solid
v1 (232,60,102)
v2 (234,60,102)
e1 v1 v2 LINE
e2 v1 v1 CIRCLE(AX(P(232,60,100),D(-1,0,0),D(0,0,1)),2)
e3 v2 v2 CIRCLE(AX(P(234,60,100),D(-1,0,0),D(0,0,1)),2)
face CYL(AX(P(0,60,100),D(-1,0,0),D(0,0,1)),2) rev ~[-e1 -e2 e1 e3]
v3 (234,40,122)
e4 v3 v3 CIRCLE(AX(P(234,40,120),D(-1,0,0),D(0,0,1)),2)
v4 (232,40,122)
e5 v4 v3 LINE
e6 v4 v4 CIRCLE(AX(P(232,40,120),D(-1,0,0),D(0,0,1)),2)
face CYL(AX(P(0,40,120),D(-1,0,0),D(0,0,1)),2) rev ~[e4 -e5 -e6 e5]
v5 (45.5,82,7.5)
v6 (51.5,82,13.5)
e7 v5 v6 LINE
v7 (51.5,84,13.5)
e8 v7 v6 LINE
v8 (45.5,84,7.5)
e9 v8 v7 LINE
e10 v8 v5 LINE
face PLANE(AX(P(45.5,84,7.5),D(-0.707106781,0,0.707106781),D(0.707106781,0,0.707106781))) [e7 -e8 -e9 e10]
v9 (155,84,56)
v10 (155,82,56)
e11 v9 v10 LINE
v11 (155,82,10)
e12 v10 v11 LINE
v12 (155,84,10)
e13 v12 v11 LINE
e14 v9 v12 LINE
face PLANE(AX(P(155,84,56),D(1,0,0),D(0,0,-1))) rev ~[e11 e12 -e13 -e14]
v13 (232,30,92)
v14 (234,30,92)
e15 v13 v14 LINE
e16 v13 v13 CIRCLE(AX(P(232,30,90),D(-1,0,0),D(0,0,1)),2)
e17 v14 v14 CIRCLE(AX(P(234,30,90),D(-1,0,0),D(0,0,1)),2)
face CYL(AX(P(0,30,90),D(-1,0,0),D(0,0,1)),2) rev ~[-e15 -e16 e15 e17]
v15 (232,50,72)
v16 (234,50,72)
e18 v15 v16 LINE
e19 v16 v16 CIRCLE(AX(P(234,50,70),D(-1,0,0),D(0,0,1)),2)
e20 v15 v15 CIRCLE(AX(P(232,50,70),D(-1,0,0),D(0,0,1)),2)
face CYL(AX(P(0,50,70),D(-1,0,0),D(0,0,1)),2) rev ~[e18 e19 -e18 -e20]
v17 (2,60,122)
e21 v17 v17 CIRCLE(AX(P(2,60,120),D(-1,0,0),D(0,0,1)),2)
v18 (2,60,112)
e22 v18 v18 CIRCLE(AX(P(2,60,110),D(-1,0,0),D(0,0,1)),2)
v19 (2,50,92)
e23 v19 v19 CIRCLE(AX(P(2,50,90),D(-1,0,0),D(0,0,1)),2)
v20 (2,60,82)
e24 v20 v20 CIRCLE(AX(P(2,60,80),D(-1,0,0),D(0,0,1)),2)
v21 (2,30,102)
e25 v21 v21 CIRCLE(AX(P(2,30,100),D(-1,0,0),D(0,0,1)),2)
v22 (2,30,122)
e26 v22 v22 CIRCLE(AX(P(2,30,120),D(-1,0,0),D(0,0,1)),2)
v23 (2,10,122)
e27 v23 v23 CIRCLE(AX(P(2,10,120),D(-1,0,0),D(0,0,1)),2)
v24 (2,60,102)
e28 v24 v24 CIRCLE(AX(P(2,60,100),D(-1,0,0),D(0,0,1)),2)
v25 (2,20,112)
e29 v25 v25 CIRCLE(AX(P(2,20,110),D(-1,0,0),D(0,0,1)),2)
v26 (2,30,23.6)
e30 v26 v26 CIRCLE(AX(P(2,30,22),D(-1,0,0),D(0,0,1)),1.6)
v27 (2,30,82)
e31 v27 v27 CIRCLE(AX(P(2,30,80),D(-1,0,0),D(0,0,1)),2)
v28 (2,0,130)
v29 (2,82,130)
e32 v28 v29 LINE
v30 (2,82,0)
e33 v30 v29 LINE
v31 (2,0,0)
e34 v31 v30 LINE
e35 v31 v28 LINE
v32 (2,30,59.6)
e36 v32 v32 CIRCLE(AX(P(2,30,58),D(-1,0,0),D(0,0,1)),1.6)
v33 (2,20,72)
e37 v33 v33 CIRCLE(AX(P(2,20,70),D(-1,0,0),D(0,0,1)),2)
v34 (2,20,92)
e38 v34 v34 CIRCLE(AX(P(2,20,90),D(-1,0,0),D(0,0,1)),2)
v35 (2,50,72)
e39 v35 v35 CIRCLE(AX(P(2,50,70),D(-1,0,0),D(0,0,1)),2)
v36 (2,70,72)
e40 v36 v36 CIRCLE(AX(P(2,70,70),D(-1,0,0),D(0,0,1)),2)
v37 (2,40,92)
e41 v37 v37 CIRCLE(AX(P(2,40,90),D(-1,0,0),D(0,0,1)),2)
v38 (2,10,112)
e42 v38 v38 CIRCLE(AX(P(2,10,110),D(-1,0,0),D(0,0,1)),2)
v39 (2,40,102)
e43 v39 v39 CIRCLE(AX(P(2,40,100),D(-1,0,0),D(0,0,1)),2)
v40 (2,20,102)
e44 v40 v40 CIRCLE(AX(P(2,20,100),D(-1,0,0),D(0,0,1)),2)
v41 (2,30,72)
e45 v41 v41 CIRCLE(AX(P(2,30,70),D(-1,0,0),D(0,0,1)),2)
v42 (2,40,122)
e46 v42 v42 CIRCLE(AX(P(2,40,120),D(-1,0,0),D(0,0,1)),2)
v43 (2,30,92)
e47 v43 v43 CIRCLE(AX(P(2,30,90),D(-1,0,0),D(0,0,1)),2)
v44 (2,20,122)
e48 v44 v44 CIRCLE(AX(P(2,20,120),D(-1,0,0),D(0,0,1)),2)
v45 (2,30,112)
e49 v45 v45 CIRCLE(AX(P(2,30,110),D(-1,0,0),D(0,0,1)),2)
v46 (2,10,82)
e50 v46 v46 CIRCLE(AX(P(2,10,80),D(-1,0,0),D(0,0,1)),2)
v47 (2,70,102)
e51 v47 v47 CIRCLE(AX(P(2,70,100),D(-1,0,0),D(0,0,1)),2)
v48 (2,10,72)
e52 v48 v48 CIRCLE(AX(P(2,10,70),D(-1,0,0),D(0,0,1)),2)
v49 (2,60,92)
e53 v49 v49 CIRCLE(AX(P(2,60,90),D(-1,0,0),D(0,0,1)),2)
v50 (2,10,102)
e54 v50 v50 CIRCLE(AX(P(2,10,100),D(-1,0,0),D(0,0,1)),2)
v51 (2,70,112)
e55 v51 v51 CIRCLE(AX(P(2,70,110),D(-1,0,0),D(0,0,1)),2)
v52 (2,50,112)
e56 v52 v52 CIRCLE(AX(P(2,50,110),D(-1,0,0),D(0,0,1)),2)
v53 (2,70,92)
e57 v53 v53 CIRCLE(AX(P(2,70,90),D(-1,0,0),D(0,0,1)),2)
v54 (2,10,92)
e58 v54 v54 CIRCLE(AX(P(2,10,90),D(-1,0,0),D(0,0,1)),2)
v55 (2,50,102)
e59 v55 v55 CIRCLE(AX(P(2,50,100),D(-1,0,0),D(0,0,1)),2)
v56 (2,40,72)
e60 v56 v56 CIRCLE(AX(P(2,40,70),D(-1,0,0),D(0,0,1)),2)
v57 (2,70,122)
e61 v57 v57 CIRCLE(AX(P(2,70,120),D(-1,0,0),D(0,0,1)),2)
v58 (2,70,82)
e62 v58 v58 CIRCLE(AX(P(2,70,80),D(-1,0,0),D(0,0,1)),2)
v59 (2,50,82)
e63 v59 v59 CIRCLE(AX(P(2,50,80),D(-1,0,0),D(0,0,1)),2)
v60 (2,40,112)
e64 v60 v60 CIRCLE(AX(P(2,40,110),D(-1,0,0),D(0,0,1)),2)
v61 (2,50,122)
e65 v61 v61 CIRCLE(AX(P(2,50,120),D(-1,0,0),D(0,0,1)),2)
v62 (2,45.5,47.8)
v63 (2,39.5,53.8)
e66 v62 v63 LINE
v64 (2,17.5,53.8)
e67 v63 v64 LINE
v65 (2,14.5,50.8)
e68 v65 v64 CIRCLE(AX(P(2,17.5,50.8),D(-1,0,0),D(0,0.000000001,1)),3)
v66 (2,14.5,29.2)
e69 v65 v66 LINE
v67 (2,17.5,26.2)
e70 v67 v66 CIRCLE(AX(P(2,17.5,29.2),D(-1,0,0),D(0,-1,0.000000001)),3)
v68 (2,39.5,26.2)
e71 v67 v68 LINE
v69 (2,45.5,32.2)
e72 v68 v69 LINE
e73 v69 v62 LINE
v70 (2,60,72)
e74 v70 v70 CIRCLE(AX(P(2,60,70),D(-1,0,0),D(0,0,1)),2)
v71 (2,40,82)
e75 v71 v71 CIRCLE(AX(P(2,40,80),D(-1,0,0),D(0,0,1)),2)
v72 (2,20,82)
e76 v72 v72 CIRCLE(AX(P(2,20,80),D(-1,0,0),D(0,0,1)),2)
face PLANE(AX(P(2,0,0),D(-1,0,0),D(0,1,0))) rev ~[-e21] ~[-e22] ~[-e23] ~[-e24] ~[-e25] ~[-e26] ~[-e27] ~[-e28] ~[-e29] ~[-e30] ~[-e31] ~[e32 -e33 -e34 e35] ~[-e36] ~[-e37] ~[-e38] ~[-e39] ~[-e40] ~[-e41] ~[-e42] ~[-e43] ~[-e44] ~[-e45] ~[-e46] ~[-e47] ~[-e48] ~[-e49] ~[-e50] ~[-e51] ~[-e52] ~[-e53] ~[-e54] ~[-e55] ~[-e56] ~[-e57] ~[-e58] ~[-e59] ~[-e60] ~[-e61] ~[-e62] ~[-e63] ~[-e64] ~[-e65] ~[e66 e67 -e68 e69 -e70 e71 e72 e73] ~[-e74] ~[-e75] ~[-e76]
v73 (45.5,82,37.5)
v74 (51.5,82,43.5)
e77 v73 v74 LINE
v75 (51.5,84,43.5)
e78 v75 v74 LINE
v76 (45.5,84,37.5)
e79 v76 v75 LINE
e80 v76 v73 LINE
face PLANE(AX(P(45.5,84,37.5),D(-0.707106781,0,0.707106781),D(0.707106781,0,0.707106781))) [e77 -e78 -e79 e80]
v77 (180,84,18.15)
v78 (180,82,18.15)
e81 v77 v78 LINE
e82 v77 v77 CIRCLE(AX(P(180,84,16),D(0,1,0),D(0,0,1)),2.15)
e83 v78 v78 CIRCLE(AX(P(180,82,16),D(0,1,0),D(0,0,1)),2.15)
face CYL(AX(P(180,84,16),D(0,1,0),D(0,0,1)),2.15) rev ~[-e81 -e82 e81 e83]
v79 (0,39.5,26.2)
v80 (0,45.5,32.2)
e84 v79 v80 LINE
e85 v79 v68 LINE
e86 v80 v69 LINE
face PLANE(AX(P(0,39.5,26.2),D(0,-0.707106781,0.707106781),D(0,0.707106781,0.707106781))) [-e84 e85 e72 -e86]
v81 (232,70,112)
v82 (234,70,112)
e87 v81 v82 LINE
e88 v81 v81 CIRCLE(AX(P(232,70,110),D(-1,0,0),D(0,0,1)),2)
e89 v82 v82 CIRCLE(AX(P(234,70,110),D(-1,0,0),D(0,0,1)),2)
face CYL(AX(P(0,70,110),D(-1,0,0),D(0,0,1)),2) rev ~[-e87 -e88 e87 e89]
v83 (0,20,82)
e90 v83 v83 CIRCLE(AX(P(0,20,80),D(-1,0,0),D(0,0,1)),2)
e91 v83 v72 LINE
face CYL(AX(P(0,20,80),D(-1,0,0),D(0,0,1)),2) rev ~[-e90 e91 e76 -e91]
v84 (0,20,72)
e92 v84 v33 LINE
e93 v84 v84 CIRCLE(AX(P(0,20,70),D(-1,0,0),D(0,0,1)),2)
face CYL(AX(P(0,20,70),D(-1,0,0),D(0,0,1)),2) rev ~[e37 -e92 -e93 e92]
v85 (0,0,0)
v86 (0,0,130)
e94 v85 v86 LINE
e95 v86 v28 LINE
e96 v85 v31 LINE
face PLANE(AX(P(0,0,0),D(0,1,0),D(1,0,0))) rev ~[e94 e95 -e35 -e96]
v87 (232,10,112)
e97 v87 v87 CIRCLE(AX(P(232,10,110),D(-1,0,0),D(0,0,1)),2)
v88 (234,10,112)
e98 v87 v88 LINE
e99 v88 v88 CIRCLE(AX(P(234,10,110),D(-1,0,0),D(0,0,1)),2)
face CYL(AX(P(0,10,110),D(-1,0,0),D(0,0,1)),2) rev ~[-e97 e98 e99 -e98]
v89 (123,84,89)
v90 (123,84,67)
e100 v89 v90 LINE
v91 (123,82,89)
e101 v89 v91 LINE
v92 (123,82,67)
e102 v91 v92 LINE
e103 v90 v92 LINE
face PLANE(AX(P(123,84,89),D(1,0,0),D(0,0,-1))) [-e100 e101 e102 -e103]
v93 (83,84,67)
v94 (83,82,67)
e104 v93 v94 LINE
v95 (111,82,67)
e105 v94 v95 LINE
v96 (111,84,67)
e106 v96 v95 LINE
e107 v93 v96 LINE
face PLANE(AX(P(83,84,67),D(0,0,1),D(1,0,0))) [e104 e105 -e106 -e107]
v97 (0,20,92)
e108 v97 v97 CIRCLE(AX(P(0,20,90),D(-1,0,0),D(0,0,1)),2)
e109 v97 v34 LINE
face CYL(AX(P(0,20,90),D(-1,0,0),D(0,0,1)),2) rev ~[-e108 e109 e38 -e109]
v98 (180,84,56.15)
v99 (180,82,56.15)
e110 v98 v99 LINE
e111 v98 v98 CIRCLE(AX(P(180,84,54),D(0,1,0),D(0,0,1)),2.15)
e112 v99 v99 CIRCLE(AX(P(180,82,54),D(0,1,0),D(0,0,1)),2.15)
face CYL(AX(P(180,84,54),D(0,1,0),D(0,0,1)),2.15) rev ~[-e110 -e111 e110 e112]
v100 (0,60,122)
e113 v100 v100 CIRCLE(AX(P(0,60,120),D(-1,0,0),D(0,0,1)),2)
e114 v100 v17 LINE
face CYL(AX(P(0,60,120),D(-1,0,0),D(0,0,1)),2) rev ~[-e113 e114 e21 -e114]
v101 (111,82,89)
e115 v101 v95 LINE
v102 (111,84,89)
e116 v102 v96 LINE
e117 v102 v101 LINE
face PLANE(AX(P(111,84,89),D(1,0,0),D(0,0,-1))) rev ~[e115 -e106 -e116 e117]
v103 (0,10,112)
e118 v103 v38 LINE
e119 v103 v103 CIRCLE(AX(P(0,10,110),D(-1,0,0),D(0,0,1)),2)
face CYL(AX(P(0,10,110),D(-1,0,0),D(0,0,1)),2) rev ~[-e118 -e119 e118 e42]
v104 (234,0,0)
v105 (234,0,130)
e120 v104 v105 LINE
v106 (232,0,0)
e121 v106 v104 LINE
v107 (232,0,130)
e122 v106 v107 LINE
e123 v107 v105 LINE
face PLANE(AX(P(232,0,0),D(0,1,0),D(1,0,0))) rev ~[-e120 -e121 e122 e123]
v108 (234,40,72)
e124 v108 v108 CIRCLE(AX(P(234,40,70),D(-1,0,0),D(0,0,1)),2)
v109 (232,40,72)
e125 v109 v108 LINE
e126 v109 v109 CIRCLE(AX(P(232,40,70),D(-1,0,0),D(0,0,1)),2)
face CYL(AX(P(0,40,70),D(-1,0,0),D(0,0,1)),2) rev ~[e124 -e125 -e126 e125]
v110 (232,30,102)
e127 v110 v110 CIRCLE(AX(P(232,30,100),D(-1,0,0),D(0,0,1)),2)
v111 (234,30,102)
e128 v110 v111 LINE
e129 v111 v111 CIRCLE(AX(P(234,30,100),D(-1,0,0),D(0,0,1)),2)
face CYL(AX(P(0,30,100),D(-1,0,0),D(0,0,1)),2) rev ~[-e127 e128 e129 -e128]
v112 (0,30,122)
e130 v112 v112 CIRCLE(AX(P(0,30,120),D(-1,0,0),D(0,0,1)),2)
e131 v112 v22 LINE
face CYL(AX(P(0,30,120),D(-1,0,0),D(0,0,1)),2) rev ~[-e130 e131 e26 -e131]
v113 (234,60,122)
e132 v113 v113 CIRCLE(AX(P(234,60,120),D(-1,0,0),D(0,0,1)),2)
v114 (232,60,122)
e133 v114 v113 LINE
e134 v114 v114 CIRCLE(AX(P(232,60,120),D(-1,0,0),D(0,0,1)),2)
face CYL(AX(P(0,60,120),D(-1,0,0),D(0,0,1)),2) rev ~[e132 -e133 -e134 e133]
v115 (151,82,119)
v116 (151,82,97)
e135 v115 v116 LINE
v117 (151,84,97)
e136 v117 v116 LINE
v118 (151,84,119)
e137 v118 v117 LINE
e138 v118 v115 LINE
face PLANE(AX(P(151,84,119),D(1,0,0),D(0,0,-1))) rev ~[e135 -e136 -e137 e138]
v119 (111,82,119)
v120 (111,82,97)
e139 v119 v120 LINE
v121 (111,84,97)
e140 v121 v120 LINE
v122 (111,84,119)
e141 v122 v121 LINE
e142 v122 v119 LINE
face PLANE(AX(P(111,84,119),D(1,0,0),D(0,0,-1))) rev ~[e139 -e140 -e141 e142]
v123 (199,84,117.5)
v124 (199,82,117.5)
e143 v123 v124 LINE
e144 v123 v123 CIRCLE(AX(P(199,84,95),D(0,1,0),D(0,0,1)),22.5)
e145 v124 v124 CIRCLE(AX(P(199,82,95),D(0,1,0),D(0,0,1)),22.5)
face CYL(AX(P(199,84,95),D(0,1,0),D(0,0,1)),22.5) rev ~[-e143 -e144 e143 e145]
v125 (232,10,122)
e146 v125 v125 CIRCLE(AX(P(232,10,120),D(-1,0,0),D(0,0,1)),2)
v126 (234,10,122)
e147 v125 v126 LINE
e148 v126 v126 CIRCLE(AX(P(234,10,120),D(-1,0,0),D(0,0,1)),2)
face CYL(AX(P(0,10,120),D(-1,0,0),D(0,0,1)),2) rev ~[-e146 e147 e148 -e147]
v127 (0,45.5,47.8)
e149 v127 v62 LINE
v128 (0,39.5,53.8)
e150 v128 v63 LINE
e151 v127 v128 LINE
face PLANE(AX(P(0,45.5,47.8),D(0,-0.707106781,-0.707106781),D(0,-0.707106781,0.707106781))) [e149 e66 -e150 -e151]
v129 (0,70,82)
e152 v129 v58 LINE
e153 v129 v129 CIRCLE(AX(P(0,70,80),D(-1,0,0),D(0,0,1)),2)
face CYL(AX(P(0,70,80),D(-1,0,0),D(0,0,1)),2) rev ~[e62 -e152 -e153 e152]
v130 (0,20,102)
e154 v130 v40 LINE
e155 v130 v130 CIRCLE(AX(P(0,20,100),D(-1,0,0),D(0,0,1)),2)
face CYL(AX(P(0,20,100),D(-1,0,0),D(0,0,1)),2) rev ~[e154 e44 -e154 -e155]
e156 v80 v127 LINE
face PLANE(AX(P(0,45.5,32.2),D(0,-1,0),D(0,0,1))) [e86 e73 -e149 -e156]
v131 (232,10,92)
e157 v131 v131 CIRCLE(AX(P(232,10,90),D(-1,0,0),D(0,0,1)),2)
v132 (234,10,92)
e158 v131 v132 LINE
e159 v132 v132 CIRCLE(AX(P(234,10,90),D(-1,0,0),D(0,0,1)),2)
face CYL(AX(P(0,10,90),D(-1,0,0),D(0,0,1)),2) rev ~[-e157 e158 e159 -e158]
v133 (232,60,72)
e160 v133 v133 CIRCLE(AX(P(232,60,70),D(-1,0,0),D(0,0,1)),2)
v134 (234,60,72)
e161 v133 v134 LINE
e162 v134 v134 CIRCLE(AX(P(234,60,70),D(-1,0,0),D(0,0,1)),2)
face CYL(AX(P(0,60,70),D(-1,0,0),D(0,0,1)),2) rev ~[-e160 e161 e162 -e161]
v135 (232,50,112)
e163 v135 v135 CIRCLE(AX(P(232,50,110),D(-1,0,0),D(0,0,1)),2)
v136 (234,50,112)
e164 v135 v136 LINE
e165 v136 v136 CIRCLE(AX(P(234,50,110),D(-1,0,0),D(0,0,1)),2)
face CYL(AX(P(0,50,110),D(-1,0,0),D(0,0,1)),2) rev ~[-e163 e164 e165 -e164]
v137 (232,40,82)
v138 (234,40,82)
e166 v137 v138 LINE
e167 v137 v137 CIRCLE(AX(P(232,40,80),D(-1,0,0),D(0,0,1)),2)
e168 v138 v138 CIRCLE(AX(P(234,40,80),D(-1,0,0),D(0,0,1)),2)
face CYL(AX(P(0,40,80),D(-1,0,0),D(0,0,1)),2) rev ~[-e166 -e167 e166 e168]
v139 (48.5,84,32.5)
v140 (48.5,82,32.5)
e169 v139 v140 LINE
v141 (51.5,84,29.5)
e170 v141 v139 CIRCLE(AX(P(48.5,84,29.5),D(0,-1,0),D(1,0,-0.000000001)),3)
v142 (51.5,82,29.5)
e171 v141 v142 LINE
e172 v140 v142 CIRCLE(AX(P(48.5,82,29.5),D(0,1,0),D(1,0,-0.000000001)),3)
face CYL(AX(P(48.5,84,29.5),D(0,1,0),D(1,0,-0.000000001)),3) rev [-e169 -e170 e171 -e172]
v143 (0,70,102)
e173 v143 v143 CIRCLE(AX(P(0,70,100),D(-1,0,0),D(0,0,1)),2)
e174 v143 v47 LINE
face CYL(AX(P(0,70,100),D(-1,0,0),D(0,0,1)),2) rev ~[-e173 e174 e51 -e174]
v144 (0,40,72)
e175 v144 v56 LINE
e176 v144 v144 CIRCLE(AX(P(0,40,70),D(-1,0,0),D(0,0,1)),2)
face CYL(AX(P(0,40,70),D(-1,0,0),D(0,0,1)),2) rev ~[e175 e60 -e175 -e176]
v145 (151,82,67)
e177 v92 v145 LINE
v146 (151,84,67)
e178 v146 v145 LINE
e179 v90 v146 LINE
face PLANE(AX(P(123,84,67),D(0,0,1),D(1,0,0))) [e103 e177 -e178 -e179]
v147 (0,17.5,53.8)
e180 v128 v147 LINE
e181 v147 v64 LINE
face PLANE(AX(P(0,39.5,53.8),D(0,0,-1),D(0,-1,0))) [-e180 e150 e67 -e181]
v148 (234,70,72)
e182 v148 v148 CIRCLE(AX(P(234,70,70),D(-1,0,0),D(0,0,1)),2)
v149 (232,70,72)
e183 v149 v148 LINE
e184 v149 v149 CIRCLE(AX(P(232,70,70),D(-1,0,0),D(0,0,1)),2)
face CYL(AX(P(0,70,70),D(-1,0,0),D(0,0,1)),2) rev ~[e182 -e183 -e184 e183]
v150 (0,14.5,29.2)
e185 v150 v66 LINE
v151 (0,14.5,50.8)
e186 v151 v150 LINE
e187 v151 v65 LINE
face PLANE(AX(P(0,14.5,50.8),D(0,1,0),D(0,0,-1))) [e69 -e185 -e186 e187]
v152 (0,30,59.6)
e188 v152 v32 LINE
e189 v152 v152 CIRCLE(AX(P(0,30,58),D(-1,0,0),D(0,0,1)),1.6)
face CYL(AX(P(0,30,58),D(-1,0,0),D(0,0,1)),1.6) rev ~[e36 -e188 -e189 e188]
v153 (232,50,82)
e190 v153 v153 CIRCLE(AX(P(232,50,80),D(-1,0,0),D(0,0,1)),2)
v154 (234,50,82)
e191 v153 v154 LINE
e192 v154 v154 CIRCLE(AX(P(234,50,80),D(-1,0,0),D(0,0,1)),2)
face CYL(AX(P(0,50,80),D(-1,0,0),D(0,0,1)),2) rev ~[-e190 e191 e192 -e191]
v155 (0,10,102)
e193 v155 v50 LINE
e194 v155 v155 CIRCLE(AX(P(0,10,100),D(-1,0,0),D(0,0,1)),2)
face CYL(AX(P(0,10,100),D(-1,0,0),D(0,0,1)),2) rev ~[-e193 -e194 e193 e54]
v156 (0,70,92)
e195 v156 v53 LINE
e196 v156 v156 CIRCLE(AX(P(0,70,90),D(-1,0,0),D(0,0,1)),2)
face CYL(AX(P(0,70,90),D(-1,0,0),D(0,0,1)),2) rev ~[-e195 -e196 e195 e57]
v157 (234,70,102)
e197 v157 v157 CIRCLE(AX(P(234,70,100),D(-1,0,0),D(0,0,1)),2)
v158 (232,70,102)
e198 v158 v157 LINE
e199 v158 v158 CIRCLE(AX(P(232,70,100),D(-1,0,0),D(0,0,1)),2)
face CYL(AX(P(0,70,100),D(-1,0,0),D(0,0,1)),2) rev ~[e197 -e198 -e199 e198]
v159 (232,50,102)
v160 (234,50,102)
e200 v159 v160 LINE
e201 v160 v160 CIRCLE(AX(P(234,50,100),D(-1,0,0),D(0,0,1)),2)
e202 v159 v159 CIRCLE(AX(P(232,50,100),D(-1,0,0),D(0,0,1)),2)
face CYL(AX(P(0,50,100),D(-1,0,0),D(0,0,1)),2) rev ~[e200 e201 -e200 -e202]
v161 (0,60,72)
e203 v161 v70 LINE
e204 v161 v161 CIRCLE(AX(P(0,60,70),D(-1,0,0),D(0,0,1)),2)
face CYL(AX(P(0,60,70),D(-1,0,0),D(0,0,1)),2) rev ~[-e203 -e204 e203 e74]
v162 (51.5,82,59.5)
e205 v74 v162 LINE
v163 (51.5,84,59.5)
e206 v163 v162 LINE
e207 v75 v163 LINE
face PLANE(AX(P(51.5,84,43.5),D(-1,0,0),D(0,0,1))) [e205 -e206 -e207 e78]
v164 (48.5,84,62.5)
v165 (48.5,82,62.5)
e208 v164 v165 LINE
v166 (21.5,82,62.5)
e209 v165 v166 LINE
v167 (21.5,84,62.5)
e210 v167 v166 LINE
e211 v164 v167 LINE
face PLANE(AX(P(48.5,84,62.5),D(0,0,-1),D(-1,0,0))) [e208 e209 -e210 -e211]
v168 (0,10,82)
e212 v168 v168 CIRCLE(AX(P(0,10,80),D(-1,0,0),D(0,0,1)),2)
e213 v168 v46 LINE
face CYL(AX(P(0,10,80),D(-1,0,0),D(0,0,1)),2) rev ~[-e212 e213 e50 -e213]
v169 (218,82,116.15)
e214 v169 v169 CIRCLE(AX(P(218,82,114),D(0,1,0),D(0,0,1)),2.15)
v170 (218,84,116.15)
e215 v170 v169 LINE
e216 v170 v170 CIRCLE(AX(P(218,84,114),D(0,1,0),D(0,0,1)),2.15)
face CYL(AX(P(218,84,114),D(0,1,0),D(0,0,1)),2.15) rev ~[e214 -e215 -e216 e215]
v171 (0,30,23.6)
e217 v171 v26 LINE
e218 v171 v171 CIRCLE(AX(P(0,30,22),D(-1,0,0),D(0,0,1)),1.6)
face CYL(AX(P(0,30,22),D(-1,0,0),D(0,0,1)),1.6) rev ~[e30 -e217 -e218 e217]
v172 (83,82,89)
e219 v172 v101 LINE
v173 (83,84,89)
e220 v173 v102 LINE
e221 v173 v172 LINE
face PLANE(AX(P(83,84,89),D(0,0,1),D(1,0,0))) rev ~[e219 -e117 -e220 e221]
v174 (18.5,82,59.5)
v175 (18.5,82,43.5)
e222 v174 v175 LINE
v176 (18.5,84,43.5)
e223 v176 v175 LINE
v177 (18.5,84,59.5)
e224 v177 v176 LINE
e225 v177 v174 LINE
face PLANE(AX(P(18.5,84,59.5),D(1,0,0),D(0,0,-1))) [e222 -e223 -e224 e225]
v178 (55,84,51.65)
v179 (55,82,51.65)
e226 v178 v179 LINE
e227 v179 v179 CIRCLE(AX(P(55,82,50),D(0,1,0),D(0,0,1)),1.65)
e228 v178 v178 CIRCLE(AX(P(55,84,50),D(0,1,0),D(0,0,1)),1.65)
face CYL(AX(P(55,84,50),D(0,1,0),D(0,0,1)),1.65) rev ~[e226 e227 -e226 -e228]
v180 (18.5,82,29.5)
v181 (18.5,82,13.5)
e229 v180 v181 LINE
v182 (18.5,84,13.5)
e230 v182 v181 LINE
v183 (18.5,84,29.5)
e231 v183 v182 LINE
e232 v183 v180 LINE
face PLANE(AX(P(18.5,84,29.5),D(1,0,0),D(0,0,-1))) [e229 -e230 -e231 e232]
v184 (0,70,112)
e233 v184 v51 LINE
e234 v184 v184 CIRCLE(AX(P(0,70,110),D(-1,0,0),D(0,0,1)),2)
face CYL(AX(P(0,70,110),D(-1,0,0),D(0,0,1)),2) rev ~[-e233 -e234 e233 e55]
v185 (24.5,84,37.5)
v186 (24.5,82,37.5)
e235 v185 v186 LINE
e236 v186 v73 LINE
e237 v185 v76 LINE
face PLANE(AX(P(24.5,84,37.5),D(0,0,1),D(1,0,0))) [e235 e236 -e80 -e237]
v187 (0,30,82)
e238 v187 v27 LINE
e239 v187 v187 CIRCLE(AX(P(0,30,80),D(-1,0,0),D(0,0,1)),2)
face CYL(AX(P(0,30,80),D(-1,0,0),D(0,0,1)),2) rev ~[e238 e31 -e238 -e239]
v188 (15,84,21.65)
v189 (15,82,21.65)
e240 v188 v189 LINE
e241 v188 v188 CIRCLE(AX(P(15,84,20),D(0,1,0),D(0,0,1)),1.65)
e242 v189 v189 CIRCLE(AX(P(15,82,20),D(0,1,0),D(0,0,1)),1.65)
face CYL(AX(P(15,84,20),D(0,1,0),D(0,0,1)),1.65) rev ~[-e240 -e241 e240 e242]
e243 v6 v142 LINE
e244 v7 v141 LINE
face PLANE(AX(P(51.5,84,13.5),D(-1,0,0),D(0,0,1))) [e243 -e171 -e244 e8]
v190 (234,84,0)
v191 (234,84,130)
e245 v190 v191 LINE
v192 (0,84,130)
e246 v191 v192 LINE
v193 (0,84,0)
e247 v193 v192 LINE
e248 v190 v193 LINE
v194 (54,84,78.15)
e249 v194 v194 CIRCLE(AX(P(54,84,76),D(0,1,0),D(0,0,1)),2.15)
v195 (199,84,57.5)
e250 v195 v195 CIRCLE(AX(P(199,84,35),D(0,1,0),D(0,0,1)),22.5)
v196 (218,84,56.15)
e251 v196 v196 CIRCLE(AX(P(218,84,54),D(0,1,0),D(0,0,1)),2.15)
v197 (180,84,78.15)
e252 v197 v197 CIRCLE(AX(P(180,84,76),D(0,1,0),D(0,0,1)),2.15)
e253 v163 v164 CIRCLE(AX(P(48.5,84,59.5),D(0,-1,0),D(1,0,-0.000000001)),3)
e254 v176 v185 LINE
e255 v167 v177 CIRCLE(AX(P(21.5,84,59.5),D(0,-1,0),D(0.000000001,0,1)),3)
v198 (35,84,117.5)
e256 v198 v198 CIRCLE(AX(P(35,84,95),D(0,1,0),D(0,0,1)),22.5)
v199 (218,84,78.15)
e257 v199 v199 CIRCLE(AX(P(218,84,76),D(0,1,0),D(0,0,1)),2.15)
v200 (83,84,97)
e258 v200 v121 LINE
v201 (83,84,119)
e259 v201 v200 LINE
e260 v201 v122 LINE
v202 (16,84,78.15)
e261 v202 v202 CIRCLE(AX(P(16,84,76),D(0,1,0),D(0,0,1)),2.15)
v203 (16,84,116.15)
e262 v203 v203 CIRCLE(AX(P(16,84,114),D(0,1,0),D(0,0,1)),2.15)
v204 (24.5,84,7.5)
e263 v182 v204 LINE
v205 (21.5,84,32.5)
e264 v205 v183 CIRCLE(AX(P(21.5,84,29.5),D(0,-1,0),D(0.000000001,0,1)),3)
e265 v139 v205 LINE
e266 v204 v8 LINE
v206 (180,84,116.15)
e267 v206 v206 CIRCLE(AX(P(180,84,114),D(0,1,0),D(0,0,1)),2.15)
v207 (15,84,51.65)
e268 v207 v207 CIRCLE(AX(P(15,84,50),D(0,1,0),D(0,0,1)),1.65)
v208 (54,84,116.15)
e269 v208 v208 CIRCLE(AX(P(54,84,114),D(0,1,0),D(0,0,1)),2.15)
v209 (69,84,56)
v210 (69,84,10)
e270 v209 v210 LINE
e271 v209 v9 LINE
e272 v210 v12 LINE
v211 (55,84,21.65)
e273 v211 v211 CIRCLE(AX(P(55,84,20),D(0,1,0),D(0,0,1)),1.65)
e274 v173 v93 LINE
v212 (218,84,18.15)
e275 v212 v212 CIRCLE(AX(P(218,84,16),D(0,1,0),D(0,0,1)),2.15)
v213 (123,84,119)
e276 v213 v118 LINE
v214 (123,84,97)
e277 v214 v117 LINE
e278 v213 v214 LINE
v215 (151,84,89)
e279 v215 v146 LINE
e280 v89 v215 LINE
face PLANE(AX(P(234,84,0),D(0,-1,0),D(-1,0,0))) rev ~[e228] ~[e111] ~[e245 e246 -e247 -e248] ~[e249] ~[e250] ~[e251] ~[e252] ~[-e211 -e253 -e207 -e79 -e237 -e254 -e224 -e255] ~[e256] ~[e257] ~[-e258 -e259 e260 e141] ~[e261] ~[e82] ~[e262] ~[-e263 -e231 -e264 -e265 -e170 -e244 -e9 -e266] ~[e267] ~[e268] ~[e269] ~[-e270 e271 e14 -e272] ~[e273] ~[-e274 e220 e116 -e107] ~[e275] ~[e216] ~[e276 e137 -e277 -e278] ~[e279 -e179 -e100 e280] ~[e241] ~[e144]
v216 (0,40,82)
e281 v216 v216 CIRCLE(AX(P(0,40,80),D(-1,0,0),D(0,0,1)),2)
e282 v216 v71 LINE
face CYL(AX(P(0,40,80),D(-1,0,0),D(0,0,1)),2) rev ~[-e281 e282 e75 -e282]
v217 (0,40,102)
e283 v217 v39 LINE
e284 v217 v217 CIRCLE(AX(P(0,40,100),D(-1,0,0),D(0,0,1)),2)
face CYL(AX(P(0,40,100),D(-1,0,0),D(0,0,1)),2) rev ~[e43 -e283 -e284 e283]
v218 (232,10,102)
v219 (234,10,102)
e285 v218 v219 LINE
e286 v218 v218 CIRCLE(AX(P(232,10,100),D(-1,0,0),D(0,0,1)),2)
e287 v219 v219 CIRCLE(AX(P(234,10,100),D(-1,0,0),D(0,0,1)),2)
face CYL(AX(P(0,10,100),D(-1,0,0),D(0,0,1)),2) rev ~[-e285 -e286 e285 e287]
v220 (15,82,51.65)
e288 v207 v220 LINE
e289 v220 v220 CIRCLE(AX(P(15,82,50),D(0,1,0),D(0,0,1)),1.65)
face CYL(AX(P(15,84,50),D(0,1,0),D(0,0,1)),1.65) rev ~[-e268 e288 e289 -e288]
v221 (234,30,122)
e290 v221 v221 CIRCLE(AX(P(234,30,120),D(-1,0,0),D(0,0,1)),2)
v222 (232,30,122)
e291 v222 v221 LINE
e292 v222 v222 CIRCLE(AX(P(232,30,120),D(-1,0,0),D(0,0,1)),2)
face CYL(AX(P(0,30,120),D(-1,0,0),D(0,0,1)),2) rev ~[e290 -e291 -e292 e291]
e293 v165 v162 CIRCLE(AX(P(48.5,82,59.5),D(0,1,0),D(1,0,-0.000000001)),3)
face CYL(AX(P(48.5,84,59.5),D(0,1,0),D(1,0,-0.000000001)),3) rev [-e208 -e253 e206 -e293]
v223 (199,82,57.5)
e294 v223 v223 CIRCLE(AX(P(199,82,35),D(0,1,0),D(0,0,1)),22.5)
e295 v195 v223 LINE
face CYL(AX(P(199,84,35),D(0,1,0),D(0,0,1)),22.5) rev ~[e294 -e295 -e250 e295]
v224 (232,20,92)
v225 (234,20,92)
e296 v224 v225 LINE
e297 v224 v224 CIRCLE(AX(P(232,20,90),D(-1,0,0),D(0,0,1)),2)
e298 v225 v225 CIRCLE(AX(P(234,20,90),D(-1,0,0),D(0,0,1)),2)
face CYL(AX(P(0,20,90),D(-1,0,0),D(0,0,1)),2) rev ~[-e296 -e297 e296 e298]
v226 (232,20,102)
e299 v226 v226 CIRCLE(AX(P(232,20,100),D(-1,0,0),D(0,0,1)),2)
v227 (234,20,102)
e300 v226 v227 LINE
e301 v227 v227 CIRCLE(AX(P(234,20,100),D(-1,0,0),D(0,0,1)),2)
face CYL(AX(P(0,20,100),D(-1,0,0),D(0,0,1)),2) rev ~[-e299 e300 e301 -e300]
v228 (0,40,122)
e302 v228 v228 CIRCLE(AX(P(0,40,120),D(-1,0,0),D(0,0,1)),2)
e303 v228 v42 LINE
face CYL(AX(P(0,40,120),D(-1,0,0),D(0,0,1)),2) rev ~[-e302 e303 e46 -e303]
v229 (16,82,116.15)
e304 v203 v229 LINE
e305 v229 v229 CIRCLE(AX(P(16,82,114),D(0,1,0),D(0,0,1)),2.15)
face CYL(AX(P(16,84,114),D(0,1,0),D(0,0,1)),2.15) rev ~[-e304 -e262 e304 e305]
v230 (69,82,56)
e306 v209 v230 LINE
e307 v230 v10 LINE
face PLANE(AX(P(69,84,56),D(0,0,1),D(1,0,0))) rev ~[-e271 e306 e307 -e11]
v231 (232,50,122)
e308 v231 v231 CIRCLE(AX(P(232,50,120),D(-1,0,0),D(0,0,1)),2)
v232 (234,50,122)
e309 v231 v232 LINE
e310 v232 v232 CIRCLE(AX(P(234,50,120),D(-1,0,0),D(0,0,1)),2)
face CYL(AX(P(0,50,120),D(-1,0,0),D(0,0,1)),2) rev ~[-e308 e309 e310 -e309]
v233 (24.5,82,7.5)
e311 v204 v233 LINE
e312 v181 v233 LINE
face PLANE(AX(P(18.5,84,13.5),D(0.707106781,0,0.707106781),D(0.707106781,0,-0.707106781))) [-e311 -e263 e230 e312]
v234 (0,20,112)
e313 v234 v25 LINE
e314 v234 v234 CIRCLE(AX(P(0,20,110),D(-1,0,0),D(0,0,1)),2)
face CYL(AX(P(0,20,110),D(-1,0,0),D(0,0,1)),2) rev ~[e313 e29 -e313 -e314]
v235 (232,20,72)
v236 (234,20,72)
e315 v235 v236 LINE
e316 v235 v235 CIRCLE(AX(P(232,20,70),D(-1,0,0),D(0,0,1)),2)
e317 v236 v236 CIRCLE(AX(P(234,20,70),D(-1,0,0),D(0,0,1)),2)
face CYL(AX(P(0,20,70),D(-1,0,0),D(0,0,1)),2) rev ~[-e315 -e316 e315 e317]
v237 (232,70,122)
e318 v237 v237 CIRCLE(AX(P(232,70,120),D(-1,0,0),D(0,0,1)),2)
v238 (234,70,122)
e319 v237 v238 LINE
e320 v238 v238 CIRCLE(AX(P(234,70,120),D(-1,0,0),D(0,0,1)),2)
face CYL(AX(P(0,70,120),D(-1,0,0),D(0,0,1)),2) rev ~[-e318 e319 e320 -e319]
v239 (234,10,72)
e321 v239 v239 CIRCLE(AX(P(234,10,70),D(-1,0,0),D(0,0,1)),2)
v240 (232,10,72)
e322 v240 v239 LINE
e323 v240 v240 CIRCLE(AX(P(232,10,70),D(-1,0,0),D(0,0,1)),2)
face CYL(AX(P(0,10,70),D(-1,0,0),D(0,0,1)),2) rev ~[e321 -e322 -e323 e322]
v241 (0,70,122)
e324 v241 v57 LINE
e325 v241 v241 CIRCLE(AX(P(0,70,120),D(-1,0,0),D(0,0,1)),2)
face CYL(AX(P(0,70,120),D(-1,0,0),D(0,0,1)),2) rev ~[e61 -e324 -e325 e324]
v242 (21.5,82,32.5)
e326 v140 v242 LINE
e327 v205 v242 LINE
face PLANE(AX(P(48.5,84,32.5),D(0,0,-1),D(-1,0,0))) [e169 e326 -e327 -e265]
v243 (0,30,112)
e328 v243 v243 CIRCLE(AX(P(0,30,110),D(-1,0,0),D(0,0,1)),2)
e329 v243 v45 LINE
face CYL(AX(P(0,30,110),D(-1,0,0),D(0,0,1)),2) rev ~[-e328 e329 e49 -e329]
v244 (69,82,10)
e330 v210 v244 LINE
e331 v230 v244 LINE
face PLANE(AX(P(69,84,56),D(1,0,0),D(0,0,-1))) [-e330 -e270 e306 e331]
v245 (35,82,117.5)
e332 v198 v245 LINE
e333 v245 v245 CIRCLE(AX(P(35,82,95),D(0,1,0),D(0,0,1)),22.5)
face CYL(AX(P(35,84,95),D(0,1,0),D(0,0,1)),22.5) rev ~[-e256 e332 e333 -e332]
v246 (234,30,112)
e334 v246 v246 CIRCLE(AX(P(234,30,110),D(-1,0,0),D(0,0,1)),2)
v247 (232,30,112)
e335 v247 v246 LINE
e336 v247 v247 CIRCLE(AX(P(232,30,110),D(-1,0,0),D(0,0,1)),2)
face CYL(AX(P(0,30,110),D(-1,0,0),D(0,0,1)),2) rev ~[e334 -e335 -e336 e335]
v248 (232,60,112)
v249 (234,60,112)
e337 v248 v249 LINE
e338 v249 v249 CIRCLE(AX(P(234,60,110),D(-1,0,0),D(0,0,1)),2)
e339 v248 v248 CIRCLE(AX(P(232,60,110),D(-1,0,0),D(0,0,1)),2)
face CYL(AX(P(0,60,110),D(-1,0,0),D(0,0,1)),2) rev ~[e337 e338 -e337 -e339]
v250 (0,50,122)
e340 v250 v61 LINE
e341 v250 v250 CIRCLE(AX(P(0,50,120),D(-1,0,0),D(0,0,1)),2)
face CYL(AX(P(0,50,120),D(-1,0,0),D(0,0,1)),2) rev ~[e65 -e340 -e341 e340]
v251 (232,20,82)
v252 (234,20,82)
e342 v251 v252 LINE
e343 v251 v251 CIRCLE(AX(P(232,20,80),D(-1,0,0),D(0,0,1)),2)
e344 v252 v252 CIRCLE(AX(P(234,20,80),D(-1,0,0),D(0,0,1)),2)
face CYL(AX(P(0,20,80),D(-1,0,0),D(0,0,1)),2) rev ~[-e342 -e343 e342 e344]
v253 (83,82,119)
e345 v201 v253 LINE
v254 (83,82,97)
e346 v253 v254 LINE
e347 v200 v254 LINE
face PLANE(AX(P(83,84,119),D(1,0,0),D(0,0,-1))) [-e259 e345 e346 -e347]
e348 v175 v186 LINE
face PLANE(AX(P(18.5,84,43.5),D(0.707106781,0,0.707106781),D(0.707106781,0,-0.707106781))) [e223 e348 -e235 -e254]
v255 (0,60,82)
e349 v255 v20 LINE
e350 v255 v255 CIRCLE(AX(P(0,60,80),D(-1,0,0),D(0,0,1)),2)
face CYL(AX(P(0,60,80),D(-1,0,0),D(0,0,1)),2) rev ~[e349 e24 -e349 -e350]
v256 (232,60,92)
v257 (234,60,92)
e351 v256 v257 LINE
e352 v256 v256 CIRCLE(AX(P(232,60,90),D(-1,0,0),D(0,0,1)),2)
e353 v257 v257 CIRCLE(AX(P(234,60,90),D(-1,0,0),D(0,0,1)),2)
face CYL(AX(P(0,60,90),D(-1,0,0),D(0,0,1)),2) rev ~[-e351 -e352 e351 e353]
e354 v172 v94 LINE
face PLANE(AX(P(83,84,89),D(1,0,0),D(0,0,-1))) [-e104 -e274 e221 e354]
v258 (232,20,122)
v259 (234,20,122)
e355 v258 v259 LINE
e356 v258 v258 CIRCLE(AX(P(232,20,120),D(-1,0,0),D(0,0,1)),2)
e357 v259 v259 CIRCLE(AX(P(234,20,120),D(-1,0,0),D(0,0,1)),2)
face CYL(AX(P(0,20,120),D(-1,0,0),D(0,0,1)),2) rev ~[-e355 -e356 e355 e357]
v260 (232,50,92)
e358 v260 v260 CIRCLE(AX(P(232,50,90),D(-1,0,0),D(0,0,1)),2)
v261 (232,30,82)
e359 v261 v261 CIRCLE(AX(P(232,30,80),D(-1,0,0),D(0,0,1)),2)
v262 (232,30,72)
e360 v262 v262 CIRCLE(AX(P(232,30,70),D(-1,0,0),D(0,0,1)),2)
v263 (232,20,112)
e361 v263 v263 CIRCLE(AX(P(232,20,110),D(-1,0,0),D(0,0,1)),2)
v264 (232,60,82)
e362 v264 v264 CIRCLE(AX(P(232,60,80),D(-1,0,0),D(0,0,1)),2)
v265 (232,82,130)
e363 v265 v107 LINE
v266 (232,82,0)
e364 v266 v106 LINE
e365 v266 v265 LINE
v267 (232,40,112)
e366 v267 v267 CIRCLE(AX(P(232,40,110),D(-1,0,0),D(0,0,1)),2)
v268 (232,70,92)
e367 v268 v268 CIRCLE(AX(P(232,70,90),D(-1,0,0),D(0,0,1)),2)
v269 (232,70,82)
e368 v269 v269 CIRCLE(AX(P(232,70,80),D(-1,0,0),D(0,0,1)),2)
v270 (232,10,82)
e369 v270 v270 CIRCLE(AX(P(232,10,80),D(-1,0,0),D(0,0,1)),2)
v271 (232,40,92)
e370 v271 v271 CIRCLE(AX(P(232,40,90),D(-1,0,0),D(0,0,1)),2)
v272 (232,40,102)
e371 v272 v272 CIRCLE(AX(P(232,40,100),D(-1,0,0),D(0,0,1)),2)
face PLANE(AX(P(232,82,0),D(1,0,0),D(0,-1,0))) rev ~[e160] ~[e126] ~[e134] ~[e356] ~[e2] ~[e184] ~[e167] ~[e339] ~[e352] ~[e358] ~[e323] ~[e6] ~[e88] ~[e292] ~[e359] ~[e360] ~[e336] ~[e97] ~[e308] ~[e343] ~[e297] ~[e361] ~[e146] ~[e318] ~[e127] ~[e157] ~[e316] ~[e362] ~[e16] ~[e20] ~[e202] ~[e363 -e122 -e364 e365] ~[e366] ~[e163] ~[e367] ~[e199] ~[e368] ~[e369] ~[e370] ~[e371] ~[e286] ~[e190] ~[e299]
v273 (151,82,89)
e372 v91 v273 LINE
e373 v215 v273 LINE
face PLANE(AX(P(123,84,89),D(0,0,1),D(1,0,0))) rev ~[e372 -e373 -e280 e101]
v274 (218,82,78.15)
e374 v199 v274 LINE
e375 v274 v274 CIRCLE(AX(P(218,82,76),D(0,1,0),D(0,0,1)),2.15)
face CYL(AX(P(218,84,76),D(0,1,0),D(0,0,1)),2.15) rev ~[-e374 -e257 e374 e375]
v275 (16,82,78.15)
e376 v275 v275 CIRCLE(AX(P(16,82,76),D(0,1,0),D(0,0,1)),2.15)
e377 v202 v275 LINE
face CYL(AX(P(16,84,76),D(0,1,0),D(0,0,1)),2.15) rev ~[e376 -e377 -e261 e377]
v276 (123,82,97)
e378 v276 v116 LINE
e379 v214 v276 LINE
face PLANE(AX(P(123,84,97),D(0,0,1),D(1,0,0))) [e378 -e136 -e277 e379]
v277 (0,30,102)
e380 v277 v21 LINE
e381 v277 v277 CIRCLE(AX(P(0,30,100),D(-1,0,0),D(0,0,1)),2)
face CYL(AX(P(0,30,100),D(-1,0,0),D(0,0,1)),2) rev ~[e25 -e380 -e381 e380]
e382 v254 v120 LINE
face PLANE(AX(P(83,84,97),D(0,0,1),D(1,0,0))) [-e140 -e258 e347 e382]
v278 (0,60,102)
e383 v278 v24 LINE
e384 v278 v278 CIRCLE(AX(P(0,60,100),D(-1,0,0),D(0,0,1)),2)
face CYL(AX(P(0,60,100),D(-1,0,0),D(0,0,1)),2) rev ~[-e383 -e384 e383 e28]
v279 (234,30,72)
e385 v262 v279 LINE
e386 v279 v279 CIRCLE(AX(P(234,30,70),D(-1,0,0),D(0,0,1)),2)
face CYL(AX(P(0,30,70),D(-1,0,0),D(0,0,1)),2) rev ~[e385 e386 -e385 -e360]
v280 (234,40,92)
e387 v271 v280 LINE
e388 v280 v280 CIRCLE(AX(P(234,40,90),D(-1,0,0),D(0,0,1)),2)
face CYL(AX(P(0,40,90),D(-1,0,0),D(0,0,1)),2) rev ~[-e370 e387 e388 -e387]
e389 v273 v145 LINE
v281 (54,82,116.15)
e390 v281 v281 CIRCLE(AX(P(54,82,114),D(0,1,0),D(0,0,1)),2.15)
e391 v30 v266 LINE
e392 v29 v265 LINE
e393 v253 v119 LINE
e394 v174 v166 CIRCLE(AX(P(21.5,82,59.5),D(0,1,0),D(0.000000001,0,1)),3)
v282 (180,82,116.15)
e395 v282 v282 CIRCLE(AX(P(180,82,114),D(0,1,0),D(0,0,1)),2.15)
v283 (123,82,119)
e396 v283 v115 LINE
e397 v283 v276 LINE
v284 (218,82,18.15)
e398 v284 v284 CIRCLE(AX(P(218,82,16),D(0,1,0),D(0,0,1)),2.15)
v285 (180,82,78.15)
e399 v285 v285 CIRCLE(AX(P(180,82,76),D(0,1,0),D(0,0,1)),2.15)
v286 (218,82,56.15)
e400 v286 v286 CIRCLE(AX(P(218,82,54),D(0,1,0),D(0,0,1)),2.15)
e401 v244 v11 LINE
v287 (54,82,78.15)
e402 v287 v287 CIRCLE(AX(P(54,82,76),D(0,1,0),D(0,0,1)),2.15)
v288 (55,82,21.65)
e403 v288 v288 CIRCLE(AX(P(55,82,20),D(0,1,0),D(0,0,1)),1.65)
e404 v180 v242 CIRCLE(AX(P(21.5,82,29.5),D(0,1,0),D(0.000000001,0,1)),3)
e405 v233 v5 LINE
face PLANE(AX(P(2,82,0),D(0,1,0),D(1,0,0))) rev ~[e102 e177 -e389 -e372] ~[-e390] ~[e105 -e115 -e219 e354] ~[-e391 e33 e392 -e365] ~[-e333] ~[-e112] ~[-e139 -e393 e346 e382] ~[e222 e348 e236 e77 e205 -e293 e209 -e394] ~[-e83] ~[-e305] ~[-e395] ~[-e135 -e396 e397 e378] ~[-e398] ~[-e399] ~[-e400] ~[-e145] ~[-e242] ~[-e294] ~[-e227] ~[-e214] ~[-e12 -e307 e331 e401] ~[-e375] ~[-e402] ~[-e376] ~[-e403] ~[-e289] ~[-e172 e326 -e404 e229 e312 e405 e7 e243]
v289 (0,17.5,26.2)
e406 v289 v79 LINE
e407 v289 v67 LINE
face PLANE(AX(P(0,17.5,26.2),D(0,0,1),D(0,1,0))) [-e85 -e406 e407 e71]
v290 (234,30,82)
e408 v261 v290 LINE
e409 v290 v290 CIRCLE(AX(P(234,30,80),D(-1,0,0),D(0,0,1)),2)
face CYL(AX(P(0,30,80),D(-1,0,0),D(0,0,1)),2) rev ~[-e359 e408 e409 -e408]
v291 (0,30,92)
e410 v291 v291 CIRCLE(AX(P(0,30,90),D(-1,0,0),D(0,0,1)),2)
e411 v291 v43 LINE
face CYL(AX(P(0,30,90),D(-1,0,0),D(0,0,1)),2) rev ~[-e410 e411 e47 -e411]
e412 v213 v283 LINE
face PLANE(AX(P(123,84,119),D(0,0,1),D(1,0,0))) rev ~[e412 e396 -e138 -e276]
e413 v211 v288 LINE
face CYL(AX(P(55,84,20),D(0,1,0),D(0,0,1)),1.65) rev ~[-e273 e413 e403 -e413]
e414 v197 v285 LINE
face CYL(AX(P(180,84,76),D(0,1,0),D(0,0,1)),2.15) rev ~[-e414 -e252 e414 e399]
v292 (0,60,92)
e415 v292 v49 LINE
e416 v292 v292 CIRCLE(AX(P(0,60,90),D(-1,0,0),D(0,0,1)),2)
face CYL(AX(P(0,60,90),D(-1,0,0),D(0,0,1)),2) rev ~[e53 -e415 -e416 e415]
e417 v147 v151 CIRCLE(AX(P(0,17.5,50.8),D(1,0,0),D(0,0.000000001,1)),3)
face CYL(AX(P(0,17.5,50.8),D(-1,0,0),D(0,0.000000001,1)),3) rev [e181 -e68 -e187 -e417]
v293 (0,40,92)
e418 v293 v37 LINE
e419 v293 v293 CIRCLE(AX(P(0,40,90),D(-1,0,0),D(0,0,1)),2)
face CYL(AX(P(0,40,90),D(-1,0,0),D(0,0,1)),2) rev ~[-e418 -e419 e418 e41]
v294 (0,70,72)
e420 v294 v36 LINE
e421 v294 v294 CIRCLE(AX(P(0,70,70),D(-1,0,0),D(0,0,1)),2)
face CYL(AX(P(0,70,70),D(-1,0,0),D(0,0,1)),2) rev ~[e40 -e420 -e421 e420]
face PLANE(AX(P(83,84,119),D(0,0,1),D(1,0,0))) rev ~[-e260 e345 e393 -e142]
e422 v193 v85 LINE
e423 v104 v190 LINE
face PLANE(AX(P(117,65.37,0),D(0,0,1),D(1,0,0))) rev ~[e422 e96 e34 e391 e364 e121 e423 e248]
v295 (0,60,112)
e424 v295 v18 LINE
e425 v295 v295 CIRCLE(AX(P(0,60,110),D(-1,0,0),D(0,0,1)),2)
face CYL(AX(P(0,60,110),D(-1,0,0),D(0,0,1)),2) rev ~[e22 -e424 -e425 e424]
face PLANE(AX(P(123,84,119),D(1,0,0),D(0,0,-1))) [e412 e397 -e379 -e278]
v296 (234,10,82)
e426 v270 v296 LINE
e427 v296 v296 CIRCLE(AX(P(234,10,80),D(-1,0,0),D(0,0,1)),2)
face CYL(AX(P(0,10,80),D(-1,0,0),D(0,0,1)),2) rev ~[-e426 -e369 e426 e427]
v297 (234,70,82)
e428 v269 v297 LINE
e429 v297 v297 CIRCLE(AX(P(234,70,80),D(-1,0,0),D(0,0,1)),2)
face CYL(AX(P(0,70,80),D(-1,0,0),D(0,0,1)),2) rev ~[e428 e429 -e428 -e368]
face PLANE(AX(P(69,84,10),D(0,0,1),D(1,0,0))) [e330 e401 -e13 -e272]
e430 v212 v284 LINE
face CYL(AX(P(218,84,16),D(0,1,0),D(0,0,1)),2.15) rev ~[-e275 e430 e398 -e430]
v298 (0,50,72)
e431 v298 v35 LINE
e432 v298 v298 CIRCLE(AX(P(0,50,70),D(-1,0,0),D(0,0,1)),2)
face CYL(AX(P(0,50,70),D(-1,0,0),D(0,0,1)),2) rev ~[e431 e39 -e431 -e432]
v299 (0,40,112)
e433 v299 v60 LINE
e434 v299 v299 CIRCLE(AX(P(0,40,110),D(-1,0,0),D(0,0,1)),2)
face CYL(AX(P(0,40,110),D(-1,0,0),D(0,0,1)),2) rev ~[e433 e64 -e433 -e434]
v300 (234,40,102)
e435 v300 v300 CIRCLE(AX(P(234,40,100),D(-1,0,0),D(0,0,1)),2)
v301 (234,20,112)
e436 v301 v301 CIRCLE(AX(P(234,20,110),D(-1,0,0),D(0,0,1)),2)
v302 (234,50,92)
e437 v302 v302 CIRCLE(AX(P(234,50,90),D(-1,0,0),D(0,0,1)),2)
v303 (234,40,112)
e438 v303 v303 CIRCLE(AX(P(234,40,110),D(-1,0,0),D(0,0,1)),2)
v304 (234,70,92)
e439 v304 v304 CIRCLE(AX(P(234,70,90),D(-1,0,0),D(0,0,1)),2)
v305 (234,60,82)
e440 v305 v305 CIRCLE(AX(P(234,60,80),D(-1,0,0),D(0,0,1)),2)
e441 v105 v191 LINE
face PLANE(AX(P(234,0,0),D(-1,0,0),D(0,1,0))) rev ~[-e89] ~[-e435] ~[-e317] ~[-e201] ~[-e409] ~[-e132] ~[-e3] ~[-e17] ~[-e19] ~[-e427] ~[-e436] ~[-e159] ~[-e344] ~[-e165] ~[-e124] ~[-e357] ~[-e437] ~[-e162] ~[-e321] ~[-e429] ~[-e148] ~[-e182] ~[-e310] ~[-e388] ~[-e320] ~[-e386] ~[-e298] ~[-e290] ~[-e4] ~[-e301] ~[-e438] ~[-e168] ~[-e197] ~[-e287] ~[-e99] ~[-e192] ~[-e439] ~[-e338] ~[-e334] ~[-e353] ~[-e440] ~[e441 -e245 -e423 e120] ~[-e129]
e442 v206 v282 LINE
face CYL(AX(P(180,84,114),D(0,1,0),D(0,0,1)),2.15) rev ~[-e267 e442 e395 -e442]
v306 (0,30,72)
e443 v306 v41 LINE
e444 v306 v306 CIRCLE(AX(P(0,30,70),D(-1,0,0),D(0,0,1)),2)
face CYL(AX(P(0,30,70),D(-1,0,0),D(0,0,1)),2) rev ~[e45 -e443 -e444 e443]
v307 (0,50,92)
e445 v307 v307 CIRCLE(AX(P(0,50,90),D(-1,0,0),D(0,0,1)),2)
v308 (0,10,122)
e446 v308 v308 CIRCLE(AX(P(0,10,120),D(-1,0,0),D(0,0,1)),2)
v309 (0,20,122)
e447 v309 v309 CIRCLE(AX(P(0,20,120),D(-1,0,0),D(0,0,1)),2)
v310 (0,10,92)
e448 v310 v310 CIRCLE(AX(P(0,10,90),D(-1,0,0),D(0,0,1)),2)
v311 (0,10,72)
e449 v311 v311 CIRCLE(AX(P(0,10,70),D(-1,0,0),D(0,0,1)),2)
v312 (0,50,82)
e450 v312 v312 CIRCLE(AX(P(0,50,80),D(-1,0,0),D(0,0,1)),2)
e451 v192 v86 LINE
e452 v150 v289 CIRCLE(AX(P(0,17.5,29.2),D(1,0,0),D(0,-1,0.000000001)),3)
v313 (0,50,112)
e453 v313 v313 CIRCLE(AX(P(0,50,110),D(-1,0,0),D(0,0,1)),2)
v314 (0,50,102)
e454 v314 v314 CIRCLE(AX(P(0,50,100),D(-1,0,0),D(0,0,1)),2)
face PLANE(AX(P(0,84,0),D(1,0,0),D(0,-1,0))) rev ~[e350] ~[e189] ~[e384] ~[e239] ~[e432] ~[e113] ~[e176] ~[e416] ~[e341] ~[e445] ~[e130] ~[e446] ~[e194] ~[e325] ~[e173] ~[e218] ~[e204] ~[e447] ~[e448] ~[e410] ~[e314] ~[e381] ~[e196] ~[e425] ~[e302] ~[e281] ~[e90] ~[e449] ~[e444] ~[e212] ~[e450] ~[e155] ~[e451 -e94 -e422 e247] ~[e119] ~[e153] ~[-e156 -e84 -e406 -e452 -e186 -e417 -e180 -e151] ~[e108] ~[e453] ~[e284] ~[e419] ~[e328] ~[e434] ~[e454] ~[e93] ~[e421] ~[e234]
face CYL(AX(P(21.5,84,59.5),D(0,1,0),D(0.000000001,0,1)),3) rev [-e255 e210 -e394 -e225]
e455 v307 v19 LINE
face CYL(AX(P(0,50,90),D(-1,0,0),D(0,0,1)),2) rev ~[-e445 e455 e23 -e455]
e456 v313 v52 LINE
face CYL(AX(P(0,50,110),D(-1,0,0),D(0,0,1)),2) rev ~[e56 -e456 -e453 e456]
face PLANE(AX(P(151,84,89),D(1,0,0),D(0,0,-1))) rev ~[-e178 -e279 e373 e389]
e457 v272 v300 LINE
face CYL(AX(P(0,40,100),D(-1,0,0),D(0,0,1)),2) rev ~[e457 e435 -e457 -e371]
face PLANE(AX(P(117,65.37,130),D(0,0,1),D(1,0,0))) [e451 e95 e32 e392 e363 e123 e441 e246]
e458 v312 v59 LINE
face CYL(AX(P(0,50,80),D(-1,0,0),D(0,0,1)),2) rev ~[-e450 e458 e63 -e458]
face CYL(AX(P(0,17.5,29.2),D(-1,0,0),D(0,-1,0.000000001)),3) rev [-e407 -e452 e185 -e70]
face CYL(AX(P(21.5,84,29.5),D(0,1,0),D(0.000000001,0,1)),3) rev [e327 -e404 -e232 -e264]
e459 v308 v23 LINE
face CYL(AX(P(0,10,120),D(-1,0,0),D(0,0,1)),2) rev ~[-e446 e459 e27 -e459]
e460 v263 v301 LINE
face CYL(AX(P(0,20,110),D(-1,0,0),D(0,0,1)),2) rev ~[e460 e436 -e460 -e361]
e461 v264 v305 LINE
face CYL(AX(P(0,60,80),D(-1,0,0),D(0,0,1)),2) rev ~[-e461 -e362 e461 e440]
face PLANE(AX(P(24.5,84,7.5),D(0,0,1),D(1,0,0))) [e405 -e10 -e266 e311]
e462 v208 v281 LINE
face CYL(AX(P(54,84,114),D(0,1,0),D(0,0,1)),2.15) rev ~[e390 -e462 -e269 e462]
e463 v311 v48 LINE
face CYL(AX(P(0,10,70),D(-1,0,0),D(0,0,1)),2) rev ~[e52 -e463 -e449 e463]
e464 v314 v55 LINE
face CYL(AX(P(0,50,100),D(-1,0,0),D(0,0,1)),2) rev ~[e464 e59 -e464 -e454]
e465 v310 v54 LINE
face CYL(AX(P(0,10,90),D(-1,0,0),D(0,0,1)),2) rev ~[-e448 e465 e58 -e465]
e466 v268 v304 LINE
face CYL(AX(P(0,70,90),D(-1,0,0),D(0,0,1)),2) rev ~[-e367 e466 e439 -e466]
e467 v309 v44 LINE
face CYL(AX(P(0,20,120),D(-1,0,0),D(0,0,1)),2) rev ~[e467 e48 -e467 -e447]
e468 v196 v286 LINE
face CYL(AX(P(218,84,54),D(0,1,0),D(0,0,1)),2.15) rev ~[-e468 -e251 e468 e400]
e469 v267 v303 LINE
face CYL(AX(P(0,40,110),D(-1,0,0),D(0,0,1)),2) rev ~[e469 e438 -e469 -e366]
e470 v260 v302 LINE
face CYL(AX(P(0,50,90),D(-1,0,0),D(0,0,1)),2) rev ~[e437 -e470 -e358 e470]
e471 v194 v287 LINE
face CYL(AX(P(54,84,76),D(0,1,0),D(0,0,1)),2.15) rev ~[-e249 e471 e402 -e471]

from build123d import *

# Parameters (mm, degrees)
EXTRUDE_1_DEPTH     = 130
SKETCH_4_R          = 22.5
SKETCH_4_R_2        = 2.15
SKETCH_4_R_3        = 1.65
SKETCH_4_W          = 28
SKETCH_4_H          = 22
SKETCH_4_W_2        = 86
SKETCH_4_H_2        = 46
CUT_EXTRUDE_1_DEPTH = 281.556589657
SKETCH_5_R          = 1.6
CUT_EXTRUDE_2_DEPTH = 10
SKETCH_6_R          = 2
CUT_EXTRUDE_3_DEPTH = 281.556589657


with BuildPart() as part:
    # Эскиз2 → Бобышка-Вытянуть1 (new body)
    with BuildSketch(Plane.XY):
        Polygon((2, 0), (2, 82), (232, 82), (232, 0), (234, 0), (234, 84), (0, 84), (0, 0), align=None)
    extrude(amount=EXTRUDE_1_DEPTH)

    # Эскиз4 → Вырез-Вытянуть1 (cut, through all)
    with BuildSketch(Plane(origin=(0, 84, 0), x_dir=(1, 0, 0), z_dir=(0, 1, 0))):
        with Locations(Location((35, -95, 0), (0, 0, 270))):
            Circle(SKETCH_4_R)
        with Locations(Location((54, -114, 0), (0, 0, 270))):
            Circle(SKETCH_4_R_2)
        with Locations(Location((16, -114, 0), (0, 0, 270))):
            Circle(SKETCH_4_R_2)
        with Locations(Location((16, -76, 0), (0, 0, 270))):
            Circle(SKETCH_4_R_2)
        with Locations(Location((54, -76, 0), (0, 0, 270))):
            Circle(SKETCH_4_R_2)
        with Locations(Location((15, -20, 0), (0, 0, 270))):
            Circle(SKETCH_4_R_3)
        with Locations(Location((55, -20, 0), (0, 0, 270))):
            Circle(SKETCH_4_R_3)
        with Locations(Location((15, -50, 0), (0, 0, 270))):
            Circle(SKETCH_4_R_3)
        with Locations(Location((55, -50, 0), (0, 0, 270))):
            Circle(SKETCH_4_R_3)
        with Locations(Location((199, -95, 0), (0, 0, 270))):
            Circle(SKETCH_4_R)
        with Locations(Location((218, -114, 0), (0, 0, 270))):
            Circle(SKETCH_4_R_2)
        with Locations(Location((180, -114, 0), (0, 0, 270))):
            Circle(SKETCH_4_R_2)
        with Locations(Location((180, -76, 0), (0, 0, 270))):
            Circle(SKETCH_4_R_2)
        with Locations(Location((218, -76, 0), (0, 0, 270))):
            Circle(SKETCH_4_R_2)
        with Locations(Location((199, -35, 0), (0, 0, 270))):
            Circle(SKETCH_4_R)
        with Locations(Location((218, -54, 0), (0, 0, 270))):
            Circle(SKETCH_4_R_2)
        with Locations(Location((180, -54, 0), (0, 0, 270))):
            Circle(SKETCH_4_R_2)
        with Locations(Location((180, -16, 0), (0, 0, 270))):
            Circle(SKETCH_4_R_2)
        with Locations(Location((218, -16, 0), (0, 0, 270))):
            Circle(SKETCH_4_R_2)
        with BuildLine():
            Line((24.5, -7.5), (45.5, -7.5))
            Line((45.5, -7.5), (51.5, -13.5))
            Line((51.5, -13.5), (51.5, -29.5))
            ThreePointArc((51.5, -29.5), (50.621320344, -31.621320344), (48.5, -32.5))
            Line((48.5, -32.5), (21.5, -32.5))
            ThreePointArc((21.5, -32.5), (19.378679656, -31.621320344), (18.5, -29.5))
            Line((18.5, -29.5), (18.5, -13.5))
            Line((18.5, -13.5), (24.5, -7.5))
        make_face()
        with Locations((97, -78)):
            Rectangle(SKETCH_4_W, SKETCH_4_H)
        with Locations((112, -33)):
            Rectangle(SKETCH_4_W_2, SKETCH_4_H_2)
        with BuildLine():
            Line((18.5, -43.5), (24.5, -37.5))
            Line((24.5, -37.5), (45.5, -37.5))
            Line((45.5, -37.5), (51.5, -43.5))
            Line((51.5, -43.5), (51.5, -59.5))
            ThreePointArc((51.5, -59.5), (50.621320344, -61.621320344), (48.5, -62.5))
            Line((48.5, -62.5), (21.5, -62.5))
            ThreePointArc((21.5, -62.5), (19.378679656, -61.621320344), (18.5, -59.5))
            Line((18.5, -59.5), (18.5, -43.5))
        make_face()
        with Locations((137, -78)):
            Rectangle(SKETCH_4_W, SKETCH_4_H)
        with Locations((137, -108)):
            Rectangle(SKETCH_4_W, SKETCH_4_H)
        with Locations((97, -108)):
            Rectangle(SKETCH_4_W, SKETCH_4_H)
    extrude(amount=-CUT_EXTRUDE_1_DEPTH, mode=Mode.SUBTRACT)

    # Эскиз5 → Вырез-Вытянуть2 (cut)
    with BuildSketch(Plane.ZY):
        with Locations((58, 30)):
            Circle(SKETCH_5_R)
        with Locations((22, 30)):
            Circle(SKETCH_5_R)
        with BuildLine():
            Line((32.2, 45.5), (47.8, 45.5))
            Line((47.8, 45.5), (53.8, 39.5))
            Line((53.8, 39.5), (53.8, 17.5))
            ThreePointArc((53.8, 17.5), (52.921320344, 15.378679656), (50.8, 14.5))
            Line((50.8, 14.5), (29.2, 14.5))
            ThreePointArc((29.2, 14.5), (27.078679656, 15.378679656), (26.2, 17.5))
            Line((26.2, 17.5), (26.2, 39.5))
            Line((26.2, 39.5), (32.2, 45.5))
        make_face()
    extrude(amount=-CUT_EXTRUDE_2_DEPTH, mode=Mode.SUBTRACT)

    # Эскиз6 → Вырез-Вытянуть3 (cut, through all)
    with BuildSketch(Plane.ZY):
        with Locations((70, 10)):
            Circle(SKETCH_6_R)
        with Locations((80, 10)):
            Circle(SKETCH_6_R)
        with Locations((90, 10)):
            Circle(SKETCH_6_R)
        with Locations((100, 10)):
            Circle(SKETCH_6_R)
        with Locations((110, 10)):
            Circle(SKETCH_6_R)
        with Locations((120, 10)):
            Circle(SKETCH_6_R)
        with Locations((80, 20)):
            Circle(SKETCH_6_R)
        with Locations((90, 20)):
            Circle(SKETCH_6_R)
        with Locations((100, 20)):
            Circle(SKETCH_6_R)
        with Locations((110, 20)):
            Circle(SKETCH_6_R)
        with Locations((120, 20)):
            Circle(SKETCH_6_R)
        with Locations((80, 30)):
            Circle(SKETCH_6_R)
        with Locations((90, 30)):
            Circle(SKETCH_6_R)
        with Locations((100, 30)):
            Circle(SKETCH_6_R)
        with Locations((110, 30)):
            Circle(SKETCH_6_R)
        with Locations((120, 30)):
            Circle(SKETCH_6_R)
        with Locations((80, 40)):
            Circle(SKETCH_6_R)
        with Locations((90, 40)):
            Circle(SKETCH_6_R)
        with Locations((100, 40)):
            Circle(SKETCH_6_R)
        with Locations((110, 40)):
            Circle(SKETCH_6_R)
        with Locations((120, 40)):
            Circle(SKETCH_6_R)
        with Locations((80, 50)):
            Circle(SKETCH_6_R)
        with Locations((90, 50)):
            Circle(SKETCH_6_R)
        with Locations((100, 50)):
            Circle(SKETCH_6_R)
        with Locations((110, 50)):
            Circle(SKETCH_6_R)
        with Locations((120, 50)):
            Circle(SKETCH_6_R)
        with Locations((80, 60)):
            Circle(SKETCH_6_R)
        with Locations((90, 60)):
            Circle(SKETCH_6_R)
        with Locations((100, 60)):
            Circle(SKETCH_6_R)
        with Locations((110, 60)):
            Circle(SKETCH_6_R)
        with Locations((120, 60)):
            Circle(SKETCH_6_R)
        with Locations((80, 70)):
            Circle(SKETCH_6_R)
        with Locations((90, 70)):
            Circle(SKETCH_6_R)
        with Locations((100, 70)):
            Circle(SKETCH_6_R)
        with Locations((110, 70)):
            Circle(SKETCH_6_R)
        with Locations((120, 70)):
            Circle(SKETCH_6_R)
        with Locations((70, 20)):
            Circle(SKETCH_6_R)
        with Locations((70, 30)):
            Circle(SKETCH_6_R)
        with Locations((70, 40)):
            Circle(SKETCH_6_R)
        with Locations((70, 50)):
            Circle(SKETCH_6_R)
        with Locations((70, 60)):
            Circle(SKETCH_6_R)
        with Locations((70, 70)):
            Circle(SKETCH_6_R)
    extrude(amount=-CUT_EXTRUDE_3_DEPTH, mode=Mode.SUBTRACT)


solid = part.part
